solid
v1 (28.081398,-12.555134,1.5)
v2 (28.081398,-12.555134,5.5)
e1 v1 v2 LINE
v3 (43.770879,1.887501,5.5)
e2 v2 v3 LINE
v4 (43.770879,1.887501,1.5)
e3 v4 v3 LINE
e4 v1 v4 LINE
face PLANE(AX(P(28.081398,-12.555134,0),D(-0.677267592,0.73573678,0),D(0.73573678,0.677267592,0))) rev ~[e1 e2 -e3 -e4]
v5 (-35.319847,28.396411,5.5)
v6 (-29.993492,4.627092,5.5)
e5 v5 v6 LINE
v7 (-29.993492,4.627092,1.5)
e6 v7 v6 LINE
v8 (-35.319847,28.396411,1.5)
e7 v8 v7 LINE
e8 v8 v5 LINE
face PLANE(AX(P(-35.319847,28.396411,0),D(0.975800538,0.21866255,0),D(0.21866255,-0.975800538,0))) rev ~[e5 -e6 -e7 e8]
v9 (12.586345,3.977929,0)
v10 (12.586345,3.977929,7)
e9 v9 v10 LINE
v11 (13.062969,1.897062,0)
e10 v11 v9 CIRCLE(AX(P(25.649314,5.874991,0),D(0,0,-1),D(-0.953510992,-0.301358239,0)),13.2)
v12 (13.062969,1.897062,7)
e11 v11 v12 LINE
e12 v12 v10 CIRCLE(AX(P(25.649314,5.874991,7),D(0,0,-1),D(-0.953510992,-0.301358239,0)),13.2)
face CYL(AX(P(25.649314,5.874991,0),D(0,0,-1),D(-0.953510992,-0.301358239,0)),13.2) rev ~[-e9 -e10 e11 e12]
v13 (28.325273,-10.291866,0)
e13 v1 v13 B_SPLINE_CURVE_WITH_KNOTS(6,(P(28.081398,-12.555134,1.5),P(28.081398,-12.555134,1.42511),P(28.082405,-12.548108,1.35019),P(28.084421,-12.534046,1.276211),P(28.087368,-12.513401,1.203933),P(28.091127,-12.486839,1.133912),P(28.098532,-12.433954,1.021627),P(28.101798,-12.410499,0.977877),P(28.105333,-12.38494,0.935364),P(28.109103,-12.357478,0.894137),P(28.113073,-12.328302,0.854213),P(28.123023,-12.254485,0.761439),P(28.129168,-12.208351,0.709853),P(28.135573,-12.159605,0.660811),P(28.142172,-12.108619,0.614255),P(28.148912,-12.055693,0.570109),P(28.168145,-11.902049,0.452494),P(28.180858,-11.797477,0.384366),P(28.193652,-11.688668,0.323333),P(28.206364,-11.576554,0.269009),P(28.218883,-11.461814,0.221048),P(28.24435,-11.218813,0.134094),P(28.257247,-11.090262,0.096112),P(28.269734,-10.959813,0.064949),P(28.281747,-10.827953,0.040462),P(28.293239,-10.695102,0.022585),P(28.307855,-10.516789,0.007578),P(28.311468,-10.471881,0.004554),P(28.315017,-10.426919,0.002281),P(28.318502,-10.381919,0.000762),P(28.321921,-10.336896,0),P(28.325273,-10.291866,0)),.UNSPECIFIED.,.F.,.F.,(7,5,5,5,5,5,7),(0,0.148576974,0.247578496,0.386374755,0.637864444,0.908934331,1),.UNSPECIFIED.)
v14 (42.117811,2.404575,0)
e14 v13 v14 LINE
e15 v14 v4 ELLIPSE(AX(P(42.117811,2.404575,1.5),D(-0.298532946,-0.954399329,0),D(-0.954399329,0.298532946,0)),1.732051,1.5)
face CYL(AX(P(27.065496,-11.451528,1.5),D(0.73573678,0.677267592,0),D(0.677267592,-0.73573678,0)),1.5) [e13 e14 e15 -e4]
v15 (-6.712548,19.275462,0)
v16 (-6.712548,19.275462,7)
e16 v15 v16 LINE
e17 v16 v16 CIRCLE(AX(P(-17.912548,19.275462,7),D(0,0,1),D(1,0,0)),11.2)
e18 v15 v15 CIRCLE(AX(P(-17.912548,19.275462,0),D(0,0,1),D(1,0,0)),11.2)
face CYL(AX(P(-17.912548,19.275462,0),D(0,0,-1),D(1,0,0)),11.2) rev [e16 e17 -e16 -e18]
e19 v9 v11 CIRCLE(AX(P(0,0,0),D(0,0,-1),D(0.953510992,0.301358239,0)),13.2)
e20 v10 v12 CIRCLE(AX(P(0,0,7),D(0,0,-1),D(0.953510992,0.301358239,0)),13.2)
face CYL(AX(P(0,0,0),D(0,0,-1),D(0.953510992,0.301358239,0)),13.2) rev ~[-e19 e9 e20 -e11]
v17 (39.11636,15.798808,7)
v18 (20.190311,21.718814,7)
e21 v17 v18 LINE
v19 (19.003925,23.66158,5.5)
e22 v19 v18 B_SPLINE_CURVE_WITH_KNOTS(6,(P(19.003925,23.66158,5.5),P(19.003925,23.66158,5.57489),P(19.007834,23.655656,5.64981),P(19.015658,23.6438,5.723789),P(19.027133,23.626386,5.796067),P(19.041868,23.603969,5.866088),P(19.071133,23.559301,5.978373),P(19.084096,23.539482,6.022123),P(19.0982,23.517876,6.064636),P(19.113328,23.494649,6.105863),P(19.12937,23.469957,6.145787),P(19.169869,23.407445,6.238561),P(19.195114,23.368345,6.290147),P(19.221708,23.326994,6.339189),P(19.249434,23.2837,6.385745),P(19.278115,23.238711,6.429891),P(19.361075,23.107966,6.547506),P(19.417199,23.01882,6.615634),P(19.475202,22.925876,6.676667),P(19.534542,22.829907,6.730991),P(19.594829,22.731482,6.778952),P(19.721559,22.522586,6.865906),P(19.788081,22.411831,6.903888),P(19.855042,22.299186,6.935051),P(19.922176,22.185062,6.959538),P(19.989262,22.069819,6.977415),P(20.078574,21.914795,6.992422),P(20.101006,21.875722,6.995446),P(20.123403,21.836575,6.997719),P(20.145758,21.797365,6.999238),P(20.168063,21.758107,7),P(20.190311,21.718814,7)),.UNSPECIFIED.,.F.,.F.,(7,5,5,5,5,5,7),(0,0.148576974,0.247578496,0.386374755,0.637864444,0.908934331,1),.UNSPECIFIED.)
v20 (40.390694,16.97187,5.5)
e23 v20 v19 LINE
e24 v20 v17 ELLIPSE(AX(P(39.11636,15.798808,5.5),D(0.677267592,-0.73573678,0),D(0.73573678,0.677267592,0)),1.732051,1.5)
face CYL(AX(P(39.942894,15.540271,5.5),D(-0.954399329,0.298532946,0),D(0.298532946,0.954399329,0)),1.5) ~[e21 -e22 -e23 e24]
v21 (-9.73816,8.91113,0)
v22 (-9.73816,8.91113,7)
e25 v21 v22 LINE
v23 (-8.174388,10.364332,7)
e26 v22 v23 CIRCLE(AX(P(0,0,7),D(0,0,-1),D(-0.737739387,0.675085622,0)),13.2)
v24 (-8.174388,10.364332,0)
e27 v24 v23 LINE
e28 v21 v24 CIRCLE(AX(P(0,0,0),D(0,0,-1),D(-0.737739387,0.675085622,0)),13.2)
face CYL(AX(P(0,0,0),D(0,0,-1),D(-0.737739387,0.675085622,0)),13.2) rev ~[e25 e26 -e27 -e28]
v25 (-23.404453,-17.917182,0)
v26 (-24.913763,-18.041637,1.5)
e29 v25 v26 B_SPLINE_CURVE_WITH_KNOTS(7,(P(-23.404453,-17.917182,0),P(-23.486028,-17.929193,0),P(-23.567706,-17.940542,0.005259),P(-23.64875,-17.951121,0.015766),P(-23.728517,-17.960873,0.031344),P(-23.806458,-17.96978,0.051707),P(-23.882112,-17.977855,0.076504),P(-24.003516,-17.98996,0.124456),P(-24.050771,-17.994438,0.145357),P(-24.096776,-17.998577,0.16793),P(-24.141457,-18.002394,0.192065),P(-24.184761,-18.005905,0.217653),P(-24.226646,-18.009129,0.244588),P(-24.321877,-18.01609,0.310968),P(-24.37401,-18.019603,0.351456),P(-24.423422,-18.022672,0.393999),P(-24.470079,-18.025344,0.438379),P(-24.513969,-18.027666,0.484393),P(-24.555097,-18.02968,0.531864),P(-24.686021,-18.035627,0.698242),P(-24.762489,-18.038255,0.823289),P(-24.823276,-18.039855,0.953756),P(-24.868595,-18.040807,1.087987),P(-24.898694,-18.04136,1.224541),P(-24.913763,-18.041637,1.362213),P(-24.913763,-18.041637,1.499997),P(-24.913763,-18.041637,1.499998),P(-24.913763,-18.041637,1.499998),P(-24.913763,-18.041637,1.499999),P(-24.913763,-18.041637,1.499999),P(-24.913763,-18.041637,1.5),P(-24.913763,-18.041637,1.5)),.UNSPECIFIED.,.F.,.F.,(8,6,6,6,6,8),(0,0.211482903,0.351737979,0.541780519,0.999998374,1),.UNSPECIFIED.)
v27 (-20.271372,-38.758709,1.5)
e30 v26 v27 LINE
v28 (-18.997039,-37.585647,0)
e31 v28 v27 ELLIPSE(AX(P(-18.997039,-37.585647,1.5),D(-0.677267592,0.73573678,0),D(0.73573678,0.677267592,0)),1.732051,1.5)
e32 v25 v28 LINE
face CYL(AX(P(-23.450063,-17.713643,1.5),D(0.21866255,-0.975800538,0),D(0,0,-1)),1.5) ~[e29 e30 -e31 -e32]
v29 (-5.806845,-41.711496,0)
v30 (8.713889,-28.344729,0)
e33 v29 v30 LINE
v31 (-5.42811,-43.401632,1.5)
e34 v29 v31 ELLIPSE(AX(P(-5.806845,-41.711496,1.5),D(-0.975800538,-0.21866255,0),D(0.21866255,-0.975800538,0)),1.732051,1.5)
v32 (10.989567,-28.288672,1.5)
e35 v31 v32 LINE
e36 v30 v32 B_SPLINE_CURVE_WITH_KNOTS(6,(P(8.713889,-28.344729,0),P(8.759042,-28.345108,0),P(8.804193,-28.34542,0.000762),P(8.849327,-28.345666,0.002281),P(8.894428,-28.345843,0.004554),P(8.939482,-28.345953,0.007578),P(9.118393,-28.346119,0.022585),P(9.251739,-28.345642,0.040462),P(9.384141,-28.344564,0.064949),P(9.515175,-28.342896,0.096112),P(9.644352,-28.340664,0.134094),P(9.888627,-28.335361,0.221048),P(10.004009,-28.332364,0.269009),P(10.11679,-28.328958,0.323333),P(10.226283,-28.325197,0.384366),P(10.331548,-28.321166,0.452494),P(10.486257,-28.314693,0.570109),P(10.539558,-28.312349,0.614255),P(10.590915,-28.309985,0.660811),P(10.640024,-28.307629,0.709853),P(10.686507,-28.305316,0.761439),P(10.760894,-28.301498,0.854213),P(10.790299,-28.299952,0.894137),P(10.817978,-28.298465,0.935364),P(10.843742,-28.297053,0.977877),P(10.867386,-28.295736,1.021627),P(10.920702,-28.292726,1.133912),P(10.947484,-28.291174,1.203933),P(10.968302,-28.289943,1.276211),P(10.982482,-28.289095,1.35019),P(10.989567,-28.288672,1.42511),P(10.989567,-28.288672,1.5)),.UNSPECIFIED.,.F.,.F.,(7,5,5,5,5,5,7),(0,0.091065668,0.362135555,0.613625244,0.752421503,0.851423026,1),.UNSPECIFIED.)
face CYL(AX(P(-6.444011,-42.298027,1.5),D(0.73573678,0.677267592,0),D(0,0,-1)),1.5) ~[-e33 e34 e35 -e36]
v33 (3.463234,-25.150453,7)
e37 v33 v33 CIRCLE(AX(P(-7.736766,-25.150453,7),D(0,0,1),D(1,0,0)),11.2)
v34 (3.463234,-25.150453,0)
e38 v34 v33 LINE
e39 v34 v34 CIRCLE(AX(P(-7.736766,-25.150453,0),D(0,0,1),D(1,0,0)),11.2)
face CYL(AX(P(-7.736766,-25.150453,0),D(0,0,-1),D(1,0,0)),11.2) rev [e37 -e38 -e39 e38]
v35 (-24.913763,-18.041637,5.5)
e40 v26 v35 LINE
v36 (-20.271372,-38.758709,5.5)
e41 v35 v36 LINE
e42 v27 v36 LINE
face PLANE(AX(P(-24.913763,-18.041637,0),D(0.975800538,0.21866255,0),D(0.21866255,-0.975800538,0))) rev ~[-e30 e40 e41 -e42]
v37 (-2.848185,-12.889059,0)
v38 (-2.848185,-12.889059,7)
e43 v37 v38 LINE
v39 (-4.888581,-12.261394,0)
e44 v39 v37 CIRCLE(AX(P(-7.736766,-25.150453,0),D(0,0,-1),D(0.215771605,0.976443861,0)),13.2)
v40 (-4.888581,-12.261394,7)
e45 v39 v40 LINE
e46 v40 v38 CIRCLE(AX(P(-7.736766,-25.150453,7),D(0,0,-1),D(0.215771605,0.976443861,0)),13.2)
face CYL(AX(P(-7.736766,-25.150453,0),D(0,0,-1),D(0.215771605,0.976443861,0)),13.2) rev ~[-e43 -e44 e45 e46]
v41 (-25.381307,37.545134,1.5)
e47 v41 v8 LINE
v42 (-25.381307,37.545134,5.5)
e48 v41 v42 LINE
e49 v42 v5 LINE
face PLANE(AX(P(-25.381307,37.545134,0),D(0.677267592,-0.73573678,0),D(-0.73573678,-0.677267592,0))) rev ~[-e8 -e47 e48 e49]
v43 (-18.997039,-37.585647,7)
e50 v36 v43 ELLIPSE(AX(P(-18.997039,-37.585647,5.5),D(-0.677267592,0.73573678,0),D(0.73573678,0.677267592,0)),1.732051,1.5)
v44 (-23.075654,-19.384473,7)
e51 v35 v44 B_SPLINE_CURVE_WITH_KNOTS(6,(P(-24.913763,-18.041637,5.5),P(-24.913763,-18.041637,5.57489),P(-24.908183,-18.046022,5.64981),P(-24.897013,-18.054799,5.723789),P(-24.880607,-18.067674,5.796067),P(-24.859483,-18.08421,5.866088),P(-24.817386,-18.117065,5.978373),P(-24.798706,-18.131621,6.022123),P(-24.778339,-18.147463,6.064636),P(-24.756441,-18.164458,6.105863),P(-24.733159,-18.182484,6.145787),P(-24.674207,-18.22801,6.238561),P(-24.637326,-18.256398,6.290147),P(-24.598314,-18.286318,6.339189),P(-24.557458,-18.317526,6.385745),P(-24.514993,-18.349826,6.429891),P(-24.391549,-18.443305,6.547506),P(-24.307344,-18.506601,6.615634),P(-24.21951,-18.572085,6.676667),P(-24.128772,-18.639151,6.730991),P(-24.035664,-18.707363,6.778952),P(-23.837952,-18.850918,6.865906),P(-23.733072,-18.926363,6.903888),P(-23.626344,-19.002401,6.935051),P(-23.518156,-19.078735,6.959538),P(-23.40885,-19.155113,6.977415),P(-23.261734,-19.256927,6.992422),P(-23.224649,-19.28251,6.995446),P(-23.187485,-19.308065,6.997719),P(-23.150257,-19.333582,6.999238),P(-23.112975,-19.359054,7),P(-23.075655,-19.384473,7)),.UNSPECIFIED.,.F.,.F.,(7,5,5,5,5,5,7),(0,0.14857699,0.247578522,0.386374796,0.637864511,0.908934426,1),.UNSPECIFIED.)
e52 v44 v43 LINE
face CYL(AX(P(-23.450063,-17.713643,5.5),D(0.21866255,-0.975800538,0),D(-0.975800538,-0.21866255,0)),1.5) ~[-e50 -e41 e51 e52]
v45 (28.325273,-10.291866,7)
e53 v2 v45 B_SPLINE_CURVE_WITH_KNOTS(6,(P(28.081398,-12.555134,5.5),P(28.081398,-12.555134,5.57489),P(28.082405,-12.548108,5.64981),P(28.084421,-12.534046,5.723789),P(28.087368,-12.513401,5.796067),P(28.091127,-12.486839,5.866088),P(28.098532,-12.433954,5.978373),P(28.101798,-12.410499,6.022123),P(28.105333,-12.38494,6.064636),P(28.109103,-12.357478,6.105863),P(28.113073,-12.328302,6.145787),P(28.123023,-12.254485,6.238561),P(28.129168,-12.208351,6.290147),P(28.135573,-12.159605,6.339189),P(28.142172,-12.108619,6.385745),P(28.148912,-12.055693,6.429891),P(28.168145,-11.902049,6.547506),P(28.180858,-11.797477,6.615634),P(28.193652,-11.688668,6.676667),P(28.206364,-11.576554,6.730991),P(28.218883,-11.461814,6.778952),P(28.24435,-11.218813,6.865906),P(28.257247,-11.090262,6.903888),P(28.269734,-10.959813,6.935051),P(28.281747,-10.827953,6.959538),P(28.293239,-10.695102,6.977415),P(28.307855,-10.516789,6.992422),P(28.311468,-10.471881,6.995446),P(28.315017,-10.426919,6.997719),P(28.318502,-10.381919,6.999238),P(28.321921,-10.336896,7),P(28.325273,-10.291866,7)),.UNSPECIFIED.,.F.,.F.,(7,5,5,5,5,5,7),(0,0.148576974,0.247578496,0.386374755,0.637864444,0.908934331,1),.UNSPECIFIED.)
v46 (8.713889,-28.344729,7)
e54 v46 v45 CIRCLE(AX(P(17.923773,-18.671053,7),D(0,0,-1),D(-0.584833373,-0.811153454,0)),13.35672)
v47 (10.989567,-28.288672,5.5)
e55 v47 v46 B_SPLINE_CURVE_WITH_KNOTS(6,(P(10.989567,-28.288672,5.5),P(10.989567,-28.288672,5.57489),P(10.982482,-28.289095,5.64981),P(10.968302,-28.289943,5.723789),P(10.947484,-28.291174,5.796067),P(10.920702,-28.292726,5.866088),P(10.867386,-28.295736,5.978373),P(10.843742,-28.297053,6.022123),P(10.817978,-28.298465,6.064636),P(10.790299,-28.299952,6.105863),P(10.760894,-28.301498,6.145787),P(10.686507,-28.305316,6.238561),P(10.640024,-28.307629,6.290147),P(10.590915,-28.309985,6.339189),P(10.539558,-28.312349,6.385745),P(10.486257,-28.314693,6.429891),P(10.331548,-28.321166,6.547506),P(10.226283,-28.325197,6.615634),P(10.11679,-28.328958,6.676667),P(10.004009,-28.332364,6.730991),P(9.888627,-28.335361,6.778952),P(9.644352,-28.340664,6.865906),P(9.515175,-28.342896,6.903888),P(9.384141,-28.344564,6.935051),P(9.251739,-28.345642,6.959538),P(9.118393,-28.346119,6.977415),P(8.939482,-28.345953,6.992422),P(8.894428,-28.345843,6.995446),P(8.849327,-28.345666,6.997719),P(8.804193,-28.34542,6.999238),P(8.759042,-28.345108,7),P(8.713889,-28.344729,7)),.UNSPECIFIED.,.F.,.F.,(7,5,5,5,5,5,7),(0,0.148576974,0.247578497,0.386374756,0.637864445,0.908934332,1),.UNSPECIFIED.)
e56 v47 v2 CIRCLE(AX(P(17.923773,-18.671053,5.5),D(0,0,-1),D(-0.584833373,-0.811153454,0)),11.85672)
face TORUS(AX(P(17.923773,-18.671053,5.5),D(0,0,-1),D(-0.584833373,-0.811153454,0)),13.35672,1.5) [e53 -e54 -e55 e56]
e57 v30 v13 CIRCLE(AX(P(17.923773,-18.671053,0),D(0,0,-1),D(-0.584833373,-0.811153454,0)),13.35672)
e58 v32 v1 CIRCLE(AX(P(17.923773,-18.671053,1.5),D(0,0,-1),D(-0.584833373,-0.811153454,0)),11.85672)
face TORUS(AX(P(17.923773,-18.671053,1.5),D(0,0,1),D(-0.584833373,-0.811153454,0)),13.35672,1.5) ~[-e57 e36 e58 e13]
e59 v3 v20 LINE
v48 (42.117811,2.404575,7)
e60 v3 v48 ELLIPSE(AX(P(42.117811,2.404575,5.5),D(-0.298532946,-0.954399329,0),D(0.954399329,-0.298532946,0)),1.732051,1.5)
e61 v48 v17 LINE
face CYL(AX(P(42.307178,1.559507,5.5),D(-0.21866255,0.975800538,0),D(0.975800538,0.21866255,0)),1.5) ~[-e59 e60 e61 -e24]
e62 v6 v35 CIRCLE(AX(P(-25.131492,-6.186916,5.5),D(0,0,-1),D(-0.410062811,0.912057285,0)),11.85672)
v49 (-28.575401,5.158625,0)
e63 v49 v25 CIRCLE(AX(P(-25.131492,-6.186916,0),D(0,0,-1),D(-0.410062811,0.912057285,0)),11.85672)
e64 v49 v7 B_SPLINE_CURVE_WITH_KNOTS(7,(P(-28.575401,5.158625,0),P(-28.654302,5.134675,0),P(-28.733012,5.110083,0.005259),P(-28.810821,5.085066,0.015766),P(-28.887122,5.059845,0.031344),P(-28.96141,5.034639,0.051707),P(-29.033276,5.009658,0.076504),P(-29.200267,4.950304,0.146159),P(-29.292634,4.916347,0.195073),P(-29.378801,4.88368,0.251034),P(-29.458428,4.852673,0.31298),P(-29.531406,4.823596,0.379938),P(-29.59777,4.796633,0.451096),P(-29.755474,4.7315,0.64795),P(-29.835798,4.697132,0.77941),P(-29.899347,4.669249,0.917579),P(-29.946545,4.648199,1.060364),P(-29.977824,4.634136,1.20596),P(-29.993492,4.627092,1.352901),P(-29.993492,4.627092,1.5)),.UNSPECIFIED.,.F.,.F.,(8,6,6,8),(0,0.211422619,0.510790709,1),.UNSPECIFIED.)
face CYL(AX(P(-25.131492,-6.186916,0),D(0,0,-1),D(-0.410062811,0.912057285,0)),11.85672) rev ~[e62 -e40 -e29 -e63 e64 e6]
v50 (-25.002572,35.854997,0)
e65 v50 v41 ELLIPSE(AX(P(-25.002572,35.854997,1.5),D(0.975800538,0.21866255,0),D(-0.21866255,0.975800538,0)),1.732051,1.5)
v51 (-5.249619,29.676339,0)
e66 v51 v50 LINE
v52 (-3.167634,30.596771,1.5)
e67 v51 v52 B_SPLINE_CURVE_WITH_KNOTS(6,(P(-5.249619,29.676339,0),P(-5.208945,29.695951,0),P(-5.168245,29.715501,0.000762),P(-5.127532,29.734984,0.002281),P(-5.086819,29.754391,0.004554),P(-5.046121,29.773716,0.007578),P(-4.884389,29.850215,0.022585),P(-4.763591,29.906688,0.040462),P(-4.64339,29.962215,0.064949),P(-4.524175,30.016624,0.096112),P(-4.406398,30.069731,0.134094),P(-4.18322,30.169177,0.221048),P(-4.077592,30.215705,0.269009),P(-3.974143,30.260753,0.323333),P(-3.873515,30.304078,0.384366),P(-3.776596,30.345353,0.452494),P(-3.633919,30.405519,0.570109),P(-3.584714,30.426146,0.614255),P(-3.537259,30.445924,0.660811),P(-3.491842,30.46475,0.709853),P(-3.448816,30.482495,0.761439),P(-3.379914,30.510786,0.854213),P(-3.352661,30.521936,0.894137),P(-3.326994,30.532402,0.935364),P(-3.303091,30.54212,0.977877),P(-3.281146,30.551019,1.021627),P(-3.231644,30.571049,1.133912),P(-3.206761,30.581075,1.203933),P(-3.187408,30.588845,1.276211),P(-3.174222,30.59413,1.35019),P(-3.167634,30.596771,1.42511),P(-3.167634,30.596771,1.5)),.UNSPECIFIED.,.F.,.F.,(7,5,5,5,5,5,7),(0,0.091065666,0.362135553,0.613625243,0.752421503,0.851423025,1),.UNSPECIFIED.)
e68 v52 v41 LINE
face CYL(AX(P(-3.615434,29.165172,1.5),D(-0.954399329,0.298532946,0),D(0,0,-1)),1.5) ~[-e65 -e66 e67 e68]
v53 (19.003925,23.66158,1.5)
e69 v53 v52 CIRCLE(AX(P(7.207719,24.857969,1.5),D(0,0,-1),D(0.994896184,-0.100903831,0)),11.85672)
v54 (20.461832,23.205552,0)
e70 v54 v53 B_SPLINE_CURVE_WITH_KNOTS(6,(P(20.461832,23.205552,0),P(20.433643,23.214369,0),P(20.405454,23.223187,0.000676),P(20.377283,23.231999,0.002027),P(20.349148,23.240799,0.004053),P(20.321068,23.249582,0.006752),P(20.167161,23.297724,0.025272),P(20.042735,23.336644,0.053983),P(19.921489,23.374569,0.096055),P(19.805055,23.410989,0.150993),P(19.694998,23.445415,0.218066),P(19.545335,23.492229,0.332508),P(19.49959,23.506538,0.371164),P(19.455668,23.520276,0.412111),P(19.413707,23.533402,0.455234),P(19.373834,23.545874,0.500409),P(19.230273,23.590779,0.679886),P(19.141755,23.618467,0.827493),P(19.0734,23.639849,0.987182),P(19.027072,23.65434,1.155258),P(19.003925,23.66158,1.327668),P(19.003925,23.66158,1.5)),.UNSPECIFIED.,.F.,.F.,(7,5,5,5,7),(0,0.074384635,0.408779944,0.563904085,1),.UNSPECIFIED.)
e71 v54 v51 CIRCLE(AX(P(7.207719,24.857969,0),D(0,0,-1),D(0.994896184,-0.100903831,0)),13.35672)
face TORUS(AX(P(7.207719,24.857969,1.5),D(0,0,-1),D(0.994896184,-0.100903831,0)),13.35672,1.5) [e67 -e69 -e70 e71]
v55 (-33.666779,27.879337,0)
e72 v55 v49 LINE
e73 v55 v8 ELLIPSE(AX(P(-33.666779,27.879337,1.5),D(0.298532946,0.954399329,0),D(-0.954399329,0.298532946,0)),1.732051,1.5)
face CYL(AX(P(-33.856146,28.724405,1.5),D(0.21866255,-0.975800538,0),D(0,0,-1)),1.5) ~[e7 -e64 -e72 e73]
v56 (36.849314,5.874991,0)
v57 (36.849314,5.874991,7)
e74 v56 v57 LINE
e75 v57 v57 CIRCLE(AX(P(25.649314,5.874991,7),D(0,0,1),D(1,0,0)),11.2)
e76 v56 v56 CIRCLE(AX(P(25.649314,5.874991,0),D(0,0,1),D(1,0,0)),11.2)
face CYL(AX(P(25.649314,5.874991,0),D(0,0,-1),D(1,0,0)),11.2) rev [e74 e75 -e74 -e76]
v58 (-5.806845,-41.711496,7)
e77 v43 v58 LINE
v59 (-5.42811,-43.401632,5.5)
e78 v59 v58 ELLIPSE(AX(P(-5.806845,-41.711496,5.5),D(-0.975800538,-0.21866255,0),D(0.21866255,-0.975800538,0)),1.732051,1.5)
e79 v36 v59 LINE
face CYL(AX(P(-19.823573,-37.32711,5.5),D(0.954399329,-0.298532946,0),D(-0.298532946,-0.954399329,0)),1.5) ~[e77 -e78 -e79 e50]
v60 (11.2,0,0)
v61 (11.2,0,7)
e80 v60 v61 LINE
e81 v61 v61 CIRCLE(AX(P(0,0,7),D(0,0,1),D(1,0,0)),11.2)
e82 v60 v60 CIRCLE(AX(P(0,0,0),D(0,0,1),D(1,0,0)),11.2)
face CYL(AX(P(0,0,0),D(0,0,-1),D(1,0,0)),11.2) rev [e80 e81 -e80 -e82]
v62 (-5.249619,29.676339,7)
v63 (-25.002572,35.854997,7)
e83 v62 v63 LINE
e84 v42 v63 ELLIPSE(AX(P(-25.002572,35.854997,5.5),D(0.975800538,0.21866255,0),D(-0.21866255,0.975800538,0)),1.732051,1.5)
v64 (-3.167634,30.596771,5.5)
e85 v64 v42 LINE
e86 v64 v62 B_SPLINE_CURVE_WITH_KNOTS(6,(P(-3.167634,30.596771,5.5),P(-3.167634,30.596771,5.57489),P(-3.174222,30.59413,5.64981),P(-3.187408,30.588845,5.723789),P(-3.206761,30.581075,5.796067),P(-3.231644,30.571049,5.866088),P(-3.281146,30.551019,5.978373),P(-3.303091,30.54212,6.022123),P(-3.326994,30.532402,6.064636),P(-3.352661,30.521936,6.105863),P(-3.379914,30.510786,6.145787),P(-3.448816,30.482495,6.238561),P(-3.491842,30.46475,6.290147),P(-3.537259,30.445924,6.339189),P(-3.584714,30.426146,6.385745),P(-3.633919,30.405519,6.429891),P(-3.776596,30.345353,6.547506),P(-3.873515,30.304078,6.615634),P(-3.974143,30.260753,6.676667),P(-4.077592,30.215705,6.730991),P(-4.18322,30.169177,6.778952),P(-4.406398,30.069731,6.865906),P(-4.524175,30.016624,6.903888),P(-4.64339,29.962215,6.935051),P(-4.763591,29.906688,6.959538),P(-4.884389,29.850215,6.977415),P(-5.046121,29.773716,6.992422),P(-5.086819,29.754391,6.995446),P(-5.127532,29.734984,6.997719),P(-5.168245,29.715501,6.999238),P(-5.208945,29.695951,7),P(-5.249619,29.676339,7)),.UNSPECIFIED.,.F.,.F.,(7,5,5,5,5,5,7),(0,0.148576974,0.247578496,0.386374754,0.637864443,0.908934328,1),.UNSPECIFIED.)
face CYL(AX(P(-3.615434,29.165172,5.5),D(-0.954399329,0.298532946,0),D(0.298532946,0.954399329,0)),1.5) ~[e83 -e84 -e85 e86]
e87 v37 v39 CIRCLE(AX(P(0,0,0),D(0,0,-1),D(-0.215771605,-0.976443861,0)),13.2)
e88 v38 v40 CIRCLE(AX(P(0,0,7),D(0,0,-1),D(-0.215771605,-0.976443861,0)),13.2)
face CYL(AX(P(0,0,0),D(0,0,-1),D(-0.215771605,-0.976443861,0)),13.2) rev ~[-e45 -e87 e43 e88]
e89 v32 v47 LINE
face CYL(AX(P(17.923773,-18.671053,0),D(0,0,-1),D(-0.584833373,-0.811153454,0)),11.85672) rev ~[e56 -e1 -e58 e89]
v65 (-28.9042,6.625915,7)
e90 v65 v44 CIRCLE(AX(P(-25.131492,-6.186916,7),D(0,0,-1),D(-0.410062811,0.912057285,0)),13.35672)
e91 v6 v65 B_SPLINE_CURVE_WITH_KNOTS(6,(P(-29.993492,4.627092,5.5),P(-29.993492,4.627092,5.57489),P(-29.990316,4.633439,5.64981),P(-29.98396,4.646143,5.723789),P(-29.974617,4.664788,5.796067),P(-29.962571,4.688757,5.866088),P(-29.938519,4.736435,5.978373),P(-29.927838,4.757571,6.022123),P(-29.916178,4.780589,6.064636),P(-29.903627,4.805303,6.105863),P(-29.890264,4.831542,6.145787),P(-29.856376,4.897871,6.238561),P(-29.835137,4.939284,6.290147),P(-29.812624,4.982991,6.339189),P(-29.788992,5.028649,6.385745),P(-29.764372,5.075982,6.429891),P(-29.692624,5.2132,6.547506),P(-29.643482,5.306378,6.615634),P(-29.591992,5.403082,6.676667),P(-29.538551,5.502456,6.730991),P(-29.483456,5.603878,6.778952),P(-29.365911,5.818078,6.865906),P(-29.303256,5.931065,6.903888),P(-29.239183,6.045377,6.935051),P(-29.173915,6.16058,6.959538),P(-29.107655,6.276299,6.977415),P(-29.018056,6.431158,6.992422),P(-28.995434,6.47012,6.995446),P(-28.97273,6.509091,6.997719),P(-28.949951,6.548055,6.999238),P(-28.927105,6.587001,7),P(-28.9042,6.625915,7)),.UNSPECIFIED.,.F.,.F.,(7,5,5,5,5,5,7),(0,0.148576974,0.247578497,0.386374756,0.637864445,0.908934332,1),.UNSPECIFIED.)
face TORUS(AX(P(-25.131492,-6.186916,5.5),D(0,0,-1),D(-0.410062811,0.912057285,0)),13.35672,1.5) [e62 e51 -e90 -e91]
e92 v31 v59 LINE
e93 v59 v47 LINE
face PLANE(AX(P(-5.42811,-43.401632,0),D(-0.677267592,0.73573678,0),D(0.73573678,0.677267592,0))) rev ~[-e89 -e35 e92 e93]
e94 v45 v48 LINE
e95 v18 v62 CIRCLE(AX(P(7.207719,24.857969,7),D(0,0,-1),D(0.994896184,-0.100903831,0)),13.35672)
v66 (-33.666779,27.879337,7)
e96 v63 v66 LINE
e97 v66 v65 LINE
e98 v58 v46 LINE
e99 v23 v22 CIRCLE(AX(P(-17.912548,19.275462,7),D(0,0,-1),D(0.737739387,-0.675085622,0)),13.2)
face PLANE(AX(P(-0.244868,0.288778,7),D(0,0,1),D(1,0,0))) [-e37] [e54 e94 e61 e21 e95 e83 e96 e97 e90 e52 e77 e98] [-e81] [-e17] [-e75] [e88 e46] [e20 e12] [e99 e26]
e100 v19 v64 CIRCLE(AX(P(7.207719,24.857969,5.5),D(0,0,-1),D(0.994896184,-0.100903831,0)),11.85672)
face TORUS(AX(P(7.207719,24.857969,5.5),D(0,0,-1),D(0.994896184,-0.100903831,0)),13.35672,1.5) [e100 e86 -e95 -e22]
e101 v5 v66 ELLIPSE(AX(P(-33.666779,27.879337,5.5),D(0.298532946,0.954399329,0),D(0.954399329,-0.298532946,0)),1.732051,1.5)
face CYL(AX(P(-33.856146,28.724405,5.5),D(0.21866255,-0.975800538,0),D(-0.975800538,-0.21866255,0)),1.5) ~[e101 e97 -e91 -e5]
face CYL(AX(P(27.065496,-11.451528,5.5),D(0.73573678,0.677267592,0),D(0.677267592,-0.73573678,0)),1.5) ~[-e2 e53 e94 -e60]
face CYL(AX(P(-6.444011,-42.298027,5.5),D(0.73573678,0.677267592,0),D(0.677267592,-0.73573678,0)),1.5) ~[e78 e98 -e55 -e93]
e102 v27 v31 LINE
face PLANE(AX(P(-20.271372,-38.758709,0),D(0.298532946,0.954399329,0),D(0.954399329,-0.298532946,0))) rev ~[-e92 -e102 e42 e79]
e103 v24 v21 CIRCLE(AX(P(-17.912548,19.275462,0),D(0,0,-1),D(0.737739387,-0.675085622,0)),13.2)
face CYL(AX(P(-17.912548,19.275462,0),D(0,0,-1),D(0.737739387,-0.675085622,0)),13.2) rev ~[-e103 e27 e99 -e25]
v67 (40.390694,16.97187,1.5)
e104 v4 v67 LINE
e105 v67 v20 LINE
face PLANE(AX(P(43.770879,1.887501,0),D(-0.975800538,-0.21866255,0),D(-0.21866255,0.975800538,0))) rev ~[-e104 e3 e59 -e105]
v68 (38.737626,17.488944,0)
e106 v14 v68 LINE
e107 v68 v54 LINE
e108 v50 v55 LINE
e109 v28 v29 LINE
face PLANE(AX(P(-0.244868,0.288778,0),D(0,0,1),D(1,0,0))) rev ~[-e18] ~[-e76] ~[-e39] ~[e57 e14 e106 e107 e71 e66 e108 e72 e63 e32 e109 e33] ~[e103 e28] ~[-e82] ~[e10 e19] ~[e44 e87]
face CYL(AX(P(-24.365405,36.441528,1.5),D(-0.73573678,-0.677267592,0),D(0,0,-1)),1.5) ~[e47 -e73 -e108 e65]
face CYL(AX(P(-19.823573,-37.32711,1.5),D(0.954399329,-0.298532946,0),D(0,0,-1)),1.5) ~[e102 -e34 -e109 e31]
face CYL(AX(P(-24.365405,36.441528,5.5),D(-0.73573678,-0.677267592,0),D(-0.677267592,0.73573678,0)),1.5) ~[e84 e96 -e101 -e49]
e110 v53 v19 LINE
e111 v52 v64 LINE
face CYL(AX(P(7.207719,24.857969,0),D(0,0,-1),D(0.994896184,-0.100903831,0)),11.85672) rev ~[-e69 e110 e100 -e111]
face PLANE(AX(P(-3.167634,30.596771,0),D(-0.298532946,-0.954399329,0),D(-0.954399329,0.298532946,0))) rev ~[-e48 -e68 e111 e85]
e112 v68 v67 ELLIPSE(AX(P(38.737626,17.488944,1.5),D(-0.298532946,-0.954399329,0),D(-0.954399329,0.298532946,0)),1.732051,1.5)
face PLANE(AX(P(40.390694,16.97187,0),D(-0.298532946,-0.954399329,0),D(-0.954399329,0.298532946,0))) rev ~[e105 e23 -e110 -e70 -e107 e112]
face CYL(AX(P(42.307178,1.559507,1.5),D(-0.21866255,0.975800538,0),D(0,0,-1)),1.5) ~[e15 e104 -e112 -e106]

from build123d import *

# Parameters (mm, degrees)
F0_R     = 11.2
F1_DEPTH = 7
F2_R     = 1.5
F3_R     = 1.5


with BuildPart() as f1:
    # F0 (on Top) → F1 (new body)
    with BuildSketch(Plane.XY):
        with BuildLine():
            Line((28.0813976314, -12.5551336157), (43.770879147, 1.8875008302))
            Line((43.770879147, 1.8875008302), (40.3906938734, 16.9718699354))
            Line((40.3906938734, 16.9718699354), (19.0039249119, 23.6615803611))
            ThreePointArc((19.0039249119, 23.6615803611), (3.6680979402, 13.5419232573), (-3.1676341566, 30.5967705304))
            Line((-3.1676341566, 30.5967705304), (-25.3813065432, 37.545133606))
            Line((-25.3813065432, 37.545133606), (-35.3198471357, 28.3964113514))
            Line((-35.3198471357, 28.3964113514), (-29.9934921424, 4.6270915647))
            ThreePointArc((-29.9934921424, 4.6270915647), (-13.561698527, -3.5942956289), (-24.9137634748, -18.0416369147))
            Line((-24.9137634748, -18.0416369147), (-20.2713723425, -38.7587088214))
            Line((-20.2713723425, -38.7587088214), (-5.4281099044, -43.4016321008))
            Line((-5.4281099044, -43.4016321008), (10.9895672305, -28.2886719259))
            ThreePointArc((10.9895672305, -28.2886719259), (9.8936005869, -9.9476276284), (28.0813976314, -12.5551336157))
        make_face()
        with Locations((-7.7367659647, -25.1504527726)):
            Circle(F0_R, mode=Mode.SUBTRACT)
        with BuildLine():
            ThreePointArc((-4.888580779, -12.261393802), (-3.8556736199, -12.533911162), (-2.8481851858, -12.8890589706))
            ThreePointArc((-2.8481851858, -12.8890589706), (-3.8810923448, -12.6165416106), (-4.888580779, -12.261393802))
        make_face(mode=Mode.SUBTRACT)
        Circle(F0_R, mode=Mode.SUBTRACT)
        with BuildLine():
            ThreePointArc((-9.7381599065, 8.9111302108), (-8.9856993702, 9.6693953703), (-8.1743881288, 10.364332044))
            ThreePointArc((-8.1743881288, 10.364332044), (-8.9268486652, 9.6060668845), (-9.7381599065, 8.9111302108))
        make_face(mode=Mode.SUBTRACT)
        with Locations((-17.9125480354, 19.2754622549)):
            Circle(F0_R, mode=Mode.SUBTRACT)
        with BuildLine():
            ThreePointArc((13.0629689078, 1.897061758), (12.782522285, 2.9278442775), (12.5863450923, 3.9779287598))
            ThreePointArc((12.5863450923, 3.9779287598), (12.8667917151, 2.9471462402), (13.0629689078, 1.897061758))
        make_face(mode=Mode.SUBTRACT)
        with Locations((25.6493140001, 5.8749905177)):
            Circle(F0_R, mode=Mode.SUBTRACT)
    extrude(amount=F1_DEPTH)

    # F2
    f2_edges = [f1.edges().sort_by_distance(p)[0] for p in [
        (-12.849741, -41.08017, 7),
        (2.780729, -35.845152, 7),
        (9.893601, -9.947628, 7),
        (35.926138, -5.333816, 7),
        (42.080787, 9.429685, 7),
        (29.697309, 20.316725, 7),
        (3.668098, 13.541923, 7),
        (-13.561699, -3.594296, 7),
        (-22.592568, -28.400173, 7),
        (-32.65667, 16.511751, 7),
        (-14.27447, 34.070952, 7),
        (-30.350577, 32.970772, 7),
    ]]
    fillet(f2_edges, radius=F2_R)

    # F3
    f3_edges = [f1.edges().sort_by_distance(p)[0] for p in [
        (-12.849741, -41.08017, 0),
        (-22.592568, -28.400173, 0),
        (2.780729, -35.845152, 0),
        (29.697309, 20.316725, 5.5),
        (42.080787, 9.429685, 0),
        (35.926138, -5.333816, 0),
        (-14.27447, 34.070952, 0),
        (-30.350577, 32.970772, 0),
        (-32.65667, 16.511751, 0),
        (-13.561699, -3.594296, 5.5),
        (9.893601, -9.947628, 0),
        (3.668098, 13.541923, 0),
    ]]
    fillet(f3_edges, radius=F3_R)


solid = f1.part
